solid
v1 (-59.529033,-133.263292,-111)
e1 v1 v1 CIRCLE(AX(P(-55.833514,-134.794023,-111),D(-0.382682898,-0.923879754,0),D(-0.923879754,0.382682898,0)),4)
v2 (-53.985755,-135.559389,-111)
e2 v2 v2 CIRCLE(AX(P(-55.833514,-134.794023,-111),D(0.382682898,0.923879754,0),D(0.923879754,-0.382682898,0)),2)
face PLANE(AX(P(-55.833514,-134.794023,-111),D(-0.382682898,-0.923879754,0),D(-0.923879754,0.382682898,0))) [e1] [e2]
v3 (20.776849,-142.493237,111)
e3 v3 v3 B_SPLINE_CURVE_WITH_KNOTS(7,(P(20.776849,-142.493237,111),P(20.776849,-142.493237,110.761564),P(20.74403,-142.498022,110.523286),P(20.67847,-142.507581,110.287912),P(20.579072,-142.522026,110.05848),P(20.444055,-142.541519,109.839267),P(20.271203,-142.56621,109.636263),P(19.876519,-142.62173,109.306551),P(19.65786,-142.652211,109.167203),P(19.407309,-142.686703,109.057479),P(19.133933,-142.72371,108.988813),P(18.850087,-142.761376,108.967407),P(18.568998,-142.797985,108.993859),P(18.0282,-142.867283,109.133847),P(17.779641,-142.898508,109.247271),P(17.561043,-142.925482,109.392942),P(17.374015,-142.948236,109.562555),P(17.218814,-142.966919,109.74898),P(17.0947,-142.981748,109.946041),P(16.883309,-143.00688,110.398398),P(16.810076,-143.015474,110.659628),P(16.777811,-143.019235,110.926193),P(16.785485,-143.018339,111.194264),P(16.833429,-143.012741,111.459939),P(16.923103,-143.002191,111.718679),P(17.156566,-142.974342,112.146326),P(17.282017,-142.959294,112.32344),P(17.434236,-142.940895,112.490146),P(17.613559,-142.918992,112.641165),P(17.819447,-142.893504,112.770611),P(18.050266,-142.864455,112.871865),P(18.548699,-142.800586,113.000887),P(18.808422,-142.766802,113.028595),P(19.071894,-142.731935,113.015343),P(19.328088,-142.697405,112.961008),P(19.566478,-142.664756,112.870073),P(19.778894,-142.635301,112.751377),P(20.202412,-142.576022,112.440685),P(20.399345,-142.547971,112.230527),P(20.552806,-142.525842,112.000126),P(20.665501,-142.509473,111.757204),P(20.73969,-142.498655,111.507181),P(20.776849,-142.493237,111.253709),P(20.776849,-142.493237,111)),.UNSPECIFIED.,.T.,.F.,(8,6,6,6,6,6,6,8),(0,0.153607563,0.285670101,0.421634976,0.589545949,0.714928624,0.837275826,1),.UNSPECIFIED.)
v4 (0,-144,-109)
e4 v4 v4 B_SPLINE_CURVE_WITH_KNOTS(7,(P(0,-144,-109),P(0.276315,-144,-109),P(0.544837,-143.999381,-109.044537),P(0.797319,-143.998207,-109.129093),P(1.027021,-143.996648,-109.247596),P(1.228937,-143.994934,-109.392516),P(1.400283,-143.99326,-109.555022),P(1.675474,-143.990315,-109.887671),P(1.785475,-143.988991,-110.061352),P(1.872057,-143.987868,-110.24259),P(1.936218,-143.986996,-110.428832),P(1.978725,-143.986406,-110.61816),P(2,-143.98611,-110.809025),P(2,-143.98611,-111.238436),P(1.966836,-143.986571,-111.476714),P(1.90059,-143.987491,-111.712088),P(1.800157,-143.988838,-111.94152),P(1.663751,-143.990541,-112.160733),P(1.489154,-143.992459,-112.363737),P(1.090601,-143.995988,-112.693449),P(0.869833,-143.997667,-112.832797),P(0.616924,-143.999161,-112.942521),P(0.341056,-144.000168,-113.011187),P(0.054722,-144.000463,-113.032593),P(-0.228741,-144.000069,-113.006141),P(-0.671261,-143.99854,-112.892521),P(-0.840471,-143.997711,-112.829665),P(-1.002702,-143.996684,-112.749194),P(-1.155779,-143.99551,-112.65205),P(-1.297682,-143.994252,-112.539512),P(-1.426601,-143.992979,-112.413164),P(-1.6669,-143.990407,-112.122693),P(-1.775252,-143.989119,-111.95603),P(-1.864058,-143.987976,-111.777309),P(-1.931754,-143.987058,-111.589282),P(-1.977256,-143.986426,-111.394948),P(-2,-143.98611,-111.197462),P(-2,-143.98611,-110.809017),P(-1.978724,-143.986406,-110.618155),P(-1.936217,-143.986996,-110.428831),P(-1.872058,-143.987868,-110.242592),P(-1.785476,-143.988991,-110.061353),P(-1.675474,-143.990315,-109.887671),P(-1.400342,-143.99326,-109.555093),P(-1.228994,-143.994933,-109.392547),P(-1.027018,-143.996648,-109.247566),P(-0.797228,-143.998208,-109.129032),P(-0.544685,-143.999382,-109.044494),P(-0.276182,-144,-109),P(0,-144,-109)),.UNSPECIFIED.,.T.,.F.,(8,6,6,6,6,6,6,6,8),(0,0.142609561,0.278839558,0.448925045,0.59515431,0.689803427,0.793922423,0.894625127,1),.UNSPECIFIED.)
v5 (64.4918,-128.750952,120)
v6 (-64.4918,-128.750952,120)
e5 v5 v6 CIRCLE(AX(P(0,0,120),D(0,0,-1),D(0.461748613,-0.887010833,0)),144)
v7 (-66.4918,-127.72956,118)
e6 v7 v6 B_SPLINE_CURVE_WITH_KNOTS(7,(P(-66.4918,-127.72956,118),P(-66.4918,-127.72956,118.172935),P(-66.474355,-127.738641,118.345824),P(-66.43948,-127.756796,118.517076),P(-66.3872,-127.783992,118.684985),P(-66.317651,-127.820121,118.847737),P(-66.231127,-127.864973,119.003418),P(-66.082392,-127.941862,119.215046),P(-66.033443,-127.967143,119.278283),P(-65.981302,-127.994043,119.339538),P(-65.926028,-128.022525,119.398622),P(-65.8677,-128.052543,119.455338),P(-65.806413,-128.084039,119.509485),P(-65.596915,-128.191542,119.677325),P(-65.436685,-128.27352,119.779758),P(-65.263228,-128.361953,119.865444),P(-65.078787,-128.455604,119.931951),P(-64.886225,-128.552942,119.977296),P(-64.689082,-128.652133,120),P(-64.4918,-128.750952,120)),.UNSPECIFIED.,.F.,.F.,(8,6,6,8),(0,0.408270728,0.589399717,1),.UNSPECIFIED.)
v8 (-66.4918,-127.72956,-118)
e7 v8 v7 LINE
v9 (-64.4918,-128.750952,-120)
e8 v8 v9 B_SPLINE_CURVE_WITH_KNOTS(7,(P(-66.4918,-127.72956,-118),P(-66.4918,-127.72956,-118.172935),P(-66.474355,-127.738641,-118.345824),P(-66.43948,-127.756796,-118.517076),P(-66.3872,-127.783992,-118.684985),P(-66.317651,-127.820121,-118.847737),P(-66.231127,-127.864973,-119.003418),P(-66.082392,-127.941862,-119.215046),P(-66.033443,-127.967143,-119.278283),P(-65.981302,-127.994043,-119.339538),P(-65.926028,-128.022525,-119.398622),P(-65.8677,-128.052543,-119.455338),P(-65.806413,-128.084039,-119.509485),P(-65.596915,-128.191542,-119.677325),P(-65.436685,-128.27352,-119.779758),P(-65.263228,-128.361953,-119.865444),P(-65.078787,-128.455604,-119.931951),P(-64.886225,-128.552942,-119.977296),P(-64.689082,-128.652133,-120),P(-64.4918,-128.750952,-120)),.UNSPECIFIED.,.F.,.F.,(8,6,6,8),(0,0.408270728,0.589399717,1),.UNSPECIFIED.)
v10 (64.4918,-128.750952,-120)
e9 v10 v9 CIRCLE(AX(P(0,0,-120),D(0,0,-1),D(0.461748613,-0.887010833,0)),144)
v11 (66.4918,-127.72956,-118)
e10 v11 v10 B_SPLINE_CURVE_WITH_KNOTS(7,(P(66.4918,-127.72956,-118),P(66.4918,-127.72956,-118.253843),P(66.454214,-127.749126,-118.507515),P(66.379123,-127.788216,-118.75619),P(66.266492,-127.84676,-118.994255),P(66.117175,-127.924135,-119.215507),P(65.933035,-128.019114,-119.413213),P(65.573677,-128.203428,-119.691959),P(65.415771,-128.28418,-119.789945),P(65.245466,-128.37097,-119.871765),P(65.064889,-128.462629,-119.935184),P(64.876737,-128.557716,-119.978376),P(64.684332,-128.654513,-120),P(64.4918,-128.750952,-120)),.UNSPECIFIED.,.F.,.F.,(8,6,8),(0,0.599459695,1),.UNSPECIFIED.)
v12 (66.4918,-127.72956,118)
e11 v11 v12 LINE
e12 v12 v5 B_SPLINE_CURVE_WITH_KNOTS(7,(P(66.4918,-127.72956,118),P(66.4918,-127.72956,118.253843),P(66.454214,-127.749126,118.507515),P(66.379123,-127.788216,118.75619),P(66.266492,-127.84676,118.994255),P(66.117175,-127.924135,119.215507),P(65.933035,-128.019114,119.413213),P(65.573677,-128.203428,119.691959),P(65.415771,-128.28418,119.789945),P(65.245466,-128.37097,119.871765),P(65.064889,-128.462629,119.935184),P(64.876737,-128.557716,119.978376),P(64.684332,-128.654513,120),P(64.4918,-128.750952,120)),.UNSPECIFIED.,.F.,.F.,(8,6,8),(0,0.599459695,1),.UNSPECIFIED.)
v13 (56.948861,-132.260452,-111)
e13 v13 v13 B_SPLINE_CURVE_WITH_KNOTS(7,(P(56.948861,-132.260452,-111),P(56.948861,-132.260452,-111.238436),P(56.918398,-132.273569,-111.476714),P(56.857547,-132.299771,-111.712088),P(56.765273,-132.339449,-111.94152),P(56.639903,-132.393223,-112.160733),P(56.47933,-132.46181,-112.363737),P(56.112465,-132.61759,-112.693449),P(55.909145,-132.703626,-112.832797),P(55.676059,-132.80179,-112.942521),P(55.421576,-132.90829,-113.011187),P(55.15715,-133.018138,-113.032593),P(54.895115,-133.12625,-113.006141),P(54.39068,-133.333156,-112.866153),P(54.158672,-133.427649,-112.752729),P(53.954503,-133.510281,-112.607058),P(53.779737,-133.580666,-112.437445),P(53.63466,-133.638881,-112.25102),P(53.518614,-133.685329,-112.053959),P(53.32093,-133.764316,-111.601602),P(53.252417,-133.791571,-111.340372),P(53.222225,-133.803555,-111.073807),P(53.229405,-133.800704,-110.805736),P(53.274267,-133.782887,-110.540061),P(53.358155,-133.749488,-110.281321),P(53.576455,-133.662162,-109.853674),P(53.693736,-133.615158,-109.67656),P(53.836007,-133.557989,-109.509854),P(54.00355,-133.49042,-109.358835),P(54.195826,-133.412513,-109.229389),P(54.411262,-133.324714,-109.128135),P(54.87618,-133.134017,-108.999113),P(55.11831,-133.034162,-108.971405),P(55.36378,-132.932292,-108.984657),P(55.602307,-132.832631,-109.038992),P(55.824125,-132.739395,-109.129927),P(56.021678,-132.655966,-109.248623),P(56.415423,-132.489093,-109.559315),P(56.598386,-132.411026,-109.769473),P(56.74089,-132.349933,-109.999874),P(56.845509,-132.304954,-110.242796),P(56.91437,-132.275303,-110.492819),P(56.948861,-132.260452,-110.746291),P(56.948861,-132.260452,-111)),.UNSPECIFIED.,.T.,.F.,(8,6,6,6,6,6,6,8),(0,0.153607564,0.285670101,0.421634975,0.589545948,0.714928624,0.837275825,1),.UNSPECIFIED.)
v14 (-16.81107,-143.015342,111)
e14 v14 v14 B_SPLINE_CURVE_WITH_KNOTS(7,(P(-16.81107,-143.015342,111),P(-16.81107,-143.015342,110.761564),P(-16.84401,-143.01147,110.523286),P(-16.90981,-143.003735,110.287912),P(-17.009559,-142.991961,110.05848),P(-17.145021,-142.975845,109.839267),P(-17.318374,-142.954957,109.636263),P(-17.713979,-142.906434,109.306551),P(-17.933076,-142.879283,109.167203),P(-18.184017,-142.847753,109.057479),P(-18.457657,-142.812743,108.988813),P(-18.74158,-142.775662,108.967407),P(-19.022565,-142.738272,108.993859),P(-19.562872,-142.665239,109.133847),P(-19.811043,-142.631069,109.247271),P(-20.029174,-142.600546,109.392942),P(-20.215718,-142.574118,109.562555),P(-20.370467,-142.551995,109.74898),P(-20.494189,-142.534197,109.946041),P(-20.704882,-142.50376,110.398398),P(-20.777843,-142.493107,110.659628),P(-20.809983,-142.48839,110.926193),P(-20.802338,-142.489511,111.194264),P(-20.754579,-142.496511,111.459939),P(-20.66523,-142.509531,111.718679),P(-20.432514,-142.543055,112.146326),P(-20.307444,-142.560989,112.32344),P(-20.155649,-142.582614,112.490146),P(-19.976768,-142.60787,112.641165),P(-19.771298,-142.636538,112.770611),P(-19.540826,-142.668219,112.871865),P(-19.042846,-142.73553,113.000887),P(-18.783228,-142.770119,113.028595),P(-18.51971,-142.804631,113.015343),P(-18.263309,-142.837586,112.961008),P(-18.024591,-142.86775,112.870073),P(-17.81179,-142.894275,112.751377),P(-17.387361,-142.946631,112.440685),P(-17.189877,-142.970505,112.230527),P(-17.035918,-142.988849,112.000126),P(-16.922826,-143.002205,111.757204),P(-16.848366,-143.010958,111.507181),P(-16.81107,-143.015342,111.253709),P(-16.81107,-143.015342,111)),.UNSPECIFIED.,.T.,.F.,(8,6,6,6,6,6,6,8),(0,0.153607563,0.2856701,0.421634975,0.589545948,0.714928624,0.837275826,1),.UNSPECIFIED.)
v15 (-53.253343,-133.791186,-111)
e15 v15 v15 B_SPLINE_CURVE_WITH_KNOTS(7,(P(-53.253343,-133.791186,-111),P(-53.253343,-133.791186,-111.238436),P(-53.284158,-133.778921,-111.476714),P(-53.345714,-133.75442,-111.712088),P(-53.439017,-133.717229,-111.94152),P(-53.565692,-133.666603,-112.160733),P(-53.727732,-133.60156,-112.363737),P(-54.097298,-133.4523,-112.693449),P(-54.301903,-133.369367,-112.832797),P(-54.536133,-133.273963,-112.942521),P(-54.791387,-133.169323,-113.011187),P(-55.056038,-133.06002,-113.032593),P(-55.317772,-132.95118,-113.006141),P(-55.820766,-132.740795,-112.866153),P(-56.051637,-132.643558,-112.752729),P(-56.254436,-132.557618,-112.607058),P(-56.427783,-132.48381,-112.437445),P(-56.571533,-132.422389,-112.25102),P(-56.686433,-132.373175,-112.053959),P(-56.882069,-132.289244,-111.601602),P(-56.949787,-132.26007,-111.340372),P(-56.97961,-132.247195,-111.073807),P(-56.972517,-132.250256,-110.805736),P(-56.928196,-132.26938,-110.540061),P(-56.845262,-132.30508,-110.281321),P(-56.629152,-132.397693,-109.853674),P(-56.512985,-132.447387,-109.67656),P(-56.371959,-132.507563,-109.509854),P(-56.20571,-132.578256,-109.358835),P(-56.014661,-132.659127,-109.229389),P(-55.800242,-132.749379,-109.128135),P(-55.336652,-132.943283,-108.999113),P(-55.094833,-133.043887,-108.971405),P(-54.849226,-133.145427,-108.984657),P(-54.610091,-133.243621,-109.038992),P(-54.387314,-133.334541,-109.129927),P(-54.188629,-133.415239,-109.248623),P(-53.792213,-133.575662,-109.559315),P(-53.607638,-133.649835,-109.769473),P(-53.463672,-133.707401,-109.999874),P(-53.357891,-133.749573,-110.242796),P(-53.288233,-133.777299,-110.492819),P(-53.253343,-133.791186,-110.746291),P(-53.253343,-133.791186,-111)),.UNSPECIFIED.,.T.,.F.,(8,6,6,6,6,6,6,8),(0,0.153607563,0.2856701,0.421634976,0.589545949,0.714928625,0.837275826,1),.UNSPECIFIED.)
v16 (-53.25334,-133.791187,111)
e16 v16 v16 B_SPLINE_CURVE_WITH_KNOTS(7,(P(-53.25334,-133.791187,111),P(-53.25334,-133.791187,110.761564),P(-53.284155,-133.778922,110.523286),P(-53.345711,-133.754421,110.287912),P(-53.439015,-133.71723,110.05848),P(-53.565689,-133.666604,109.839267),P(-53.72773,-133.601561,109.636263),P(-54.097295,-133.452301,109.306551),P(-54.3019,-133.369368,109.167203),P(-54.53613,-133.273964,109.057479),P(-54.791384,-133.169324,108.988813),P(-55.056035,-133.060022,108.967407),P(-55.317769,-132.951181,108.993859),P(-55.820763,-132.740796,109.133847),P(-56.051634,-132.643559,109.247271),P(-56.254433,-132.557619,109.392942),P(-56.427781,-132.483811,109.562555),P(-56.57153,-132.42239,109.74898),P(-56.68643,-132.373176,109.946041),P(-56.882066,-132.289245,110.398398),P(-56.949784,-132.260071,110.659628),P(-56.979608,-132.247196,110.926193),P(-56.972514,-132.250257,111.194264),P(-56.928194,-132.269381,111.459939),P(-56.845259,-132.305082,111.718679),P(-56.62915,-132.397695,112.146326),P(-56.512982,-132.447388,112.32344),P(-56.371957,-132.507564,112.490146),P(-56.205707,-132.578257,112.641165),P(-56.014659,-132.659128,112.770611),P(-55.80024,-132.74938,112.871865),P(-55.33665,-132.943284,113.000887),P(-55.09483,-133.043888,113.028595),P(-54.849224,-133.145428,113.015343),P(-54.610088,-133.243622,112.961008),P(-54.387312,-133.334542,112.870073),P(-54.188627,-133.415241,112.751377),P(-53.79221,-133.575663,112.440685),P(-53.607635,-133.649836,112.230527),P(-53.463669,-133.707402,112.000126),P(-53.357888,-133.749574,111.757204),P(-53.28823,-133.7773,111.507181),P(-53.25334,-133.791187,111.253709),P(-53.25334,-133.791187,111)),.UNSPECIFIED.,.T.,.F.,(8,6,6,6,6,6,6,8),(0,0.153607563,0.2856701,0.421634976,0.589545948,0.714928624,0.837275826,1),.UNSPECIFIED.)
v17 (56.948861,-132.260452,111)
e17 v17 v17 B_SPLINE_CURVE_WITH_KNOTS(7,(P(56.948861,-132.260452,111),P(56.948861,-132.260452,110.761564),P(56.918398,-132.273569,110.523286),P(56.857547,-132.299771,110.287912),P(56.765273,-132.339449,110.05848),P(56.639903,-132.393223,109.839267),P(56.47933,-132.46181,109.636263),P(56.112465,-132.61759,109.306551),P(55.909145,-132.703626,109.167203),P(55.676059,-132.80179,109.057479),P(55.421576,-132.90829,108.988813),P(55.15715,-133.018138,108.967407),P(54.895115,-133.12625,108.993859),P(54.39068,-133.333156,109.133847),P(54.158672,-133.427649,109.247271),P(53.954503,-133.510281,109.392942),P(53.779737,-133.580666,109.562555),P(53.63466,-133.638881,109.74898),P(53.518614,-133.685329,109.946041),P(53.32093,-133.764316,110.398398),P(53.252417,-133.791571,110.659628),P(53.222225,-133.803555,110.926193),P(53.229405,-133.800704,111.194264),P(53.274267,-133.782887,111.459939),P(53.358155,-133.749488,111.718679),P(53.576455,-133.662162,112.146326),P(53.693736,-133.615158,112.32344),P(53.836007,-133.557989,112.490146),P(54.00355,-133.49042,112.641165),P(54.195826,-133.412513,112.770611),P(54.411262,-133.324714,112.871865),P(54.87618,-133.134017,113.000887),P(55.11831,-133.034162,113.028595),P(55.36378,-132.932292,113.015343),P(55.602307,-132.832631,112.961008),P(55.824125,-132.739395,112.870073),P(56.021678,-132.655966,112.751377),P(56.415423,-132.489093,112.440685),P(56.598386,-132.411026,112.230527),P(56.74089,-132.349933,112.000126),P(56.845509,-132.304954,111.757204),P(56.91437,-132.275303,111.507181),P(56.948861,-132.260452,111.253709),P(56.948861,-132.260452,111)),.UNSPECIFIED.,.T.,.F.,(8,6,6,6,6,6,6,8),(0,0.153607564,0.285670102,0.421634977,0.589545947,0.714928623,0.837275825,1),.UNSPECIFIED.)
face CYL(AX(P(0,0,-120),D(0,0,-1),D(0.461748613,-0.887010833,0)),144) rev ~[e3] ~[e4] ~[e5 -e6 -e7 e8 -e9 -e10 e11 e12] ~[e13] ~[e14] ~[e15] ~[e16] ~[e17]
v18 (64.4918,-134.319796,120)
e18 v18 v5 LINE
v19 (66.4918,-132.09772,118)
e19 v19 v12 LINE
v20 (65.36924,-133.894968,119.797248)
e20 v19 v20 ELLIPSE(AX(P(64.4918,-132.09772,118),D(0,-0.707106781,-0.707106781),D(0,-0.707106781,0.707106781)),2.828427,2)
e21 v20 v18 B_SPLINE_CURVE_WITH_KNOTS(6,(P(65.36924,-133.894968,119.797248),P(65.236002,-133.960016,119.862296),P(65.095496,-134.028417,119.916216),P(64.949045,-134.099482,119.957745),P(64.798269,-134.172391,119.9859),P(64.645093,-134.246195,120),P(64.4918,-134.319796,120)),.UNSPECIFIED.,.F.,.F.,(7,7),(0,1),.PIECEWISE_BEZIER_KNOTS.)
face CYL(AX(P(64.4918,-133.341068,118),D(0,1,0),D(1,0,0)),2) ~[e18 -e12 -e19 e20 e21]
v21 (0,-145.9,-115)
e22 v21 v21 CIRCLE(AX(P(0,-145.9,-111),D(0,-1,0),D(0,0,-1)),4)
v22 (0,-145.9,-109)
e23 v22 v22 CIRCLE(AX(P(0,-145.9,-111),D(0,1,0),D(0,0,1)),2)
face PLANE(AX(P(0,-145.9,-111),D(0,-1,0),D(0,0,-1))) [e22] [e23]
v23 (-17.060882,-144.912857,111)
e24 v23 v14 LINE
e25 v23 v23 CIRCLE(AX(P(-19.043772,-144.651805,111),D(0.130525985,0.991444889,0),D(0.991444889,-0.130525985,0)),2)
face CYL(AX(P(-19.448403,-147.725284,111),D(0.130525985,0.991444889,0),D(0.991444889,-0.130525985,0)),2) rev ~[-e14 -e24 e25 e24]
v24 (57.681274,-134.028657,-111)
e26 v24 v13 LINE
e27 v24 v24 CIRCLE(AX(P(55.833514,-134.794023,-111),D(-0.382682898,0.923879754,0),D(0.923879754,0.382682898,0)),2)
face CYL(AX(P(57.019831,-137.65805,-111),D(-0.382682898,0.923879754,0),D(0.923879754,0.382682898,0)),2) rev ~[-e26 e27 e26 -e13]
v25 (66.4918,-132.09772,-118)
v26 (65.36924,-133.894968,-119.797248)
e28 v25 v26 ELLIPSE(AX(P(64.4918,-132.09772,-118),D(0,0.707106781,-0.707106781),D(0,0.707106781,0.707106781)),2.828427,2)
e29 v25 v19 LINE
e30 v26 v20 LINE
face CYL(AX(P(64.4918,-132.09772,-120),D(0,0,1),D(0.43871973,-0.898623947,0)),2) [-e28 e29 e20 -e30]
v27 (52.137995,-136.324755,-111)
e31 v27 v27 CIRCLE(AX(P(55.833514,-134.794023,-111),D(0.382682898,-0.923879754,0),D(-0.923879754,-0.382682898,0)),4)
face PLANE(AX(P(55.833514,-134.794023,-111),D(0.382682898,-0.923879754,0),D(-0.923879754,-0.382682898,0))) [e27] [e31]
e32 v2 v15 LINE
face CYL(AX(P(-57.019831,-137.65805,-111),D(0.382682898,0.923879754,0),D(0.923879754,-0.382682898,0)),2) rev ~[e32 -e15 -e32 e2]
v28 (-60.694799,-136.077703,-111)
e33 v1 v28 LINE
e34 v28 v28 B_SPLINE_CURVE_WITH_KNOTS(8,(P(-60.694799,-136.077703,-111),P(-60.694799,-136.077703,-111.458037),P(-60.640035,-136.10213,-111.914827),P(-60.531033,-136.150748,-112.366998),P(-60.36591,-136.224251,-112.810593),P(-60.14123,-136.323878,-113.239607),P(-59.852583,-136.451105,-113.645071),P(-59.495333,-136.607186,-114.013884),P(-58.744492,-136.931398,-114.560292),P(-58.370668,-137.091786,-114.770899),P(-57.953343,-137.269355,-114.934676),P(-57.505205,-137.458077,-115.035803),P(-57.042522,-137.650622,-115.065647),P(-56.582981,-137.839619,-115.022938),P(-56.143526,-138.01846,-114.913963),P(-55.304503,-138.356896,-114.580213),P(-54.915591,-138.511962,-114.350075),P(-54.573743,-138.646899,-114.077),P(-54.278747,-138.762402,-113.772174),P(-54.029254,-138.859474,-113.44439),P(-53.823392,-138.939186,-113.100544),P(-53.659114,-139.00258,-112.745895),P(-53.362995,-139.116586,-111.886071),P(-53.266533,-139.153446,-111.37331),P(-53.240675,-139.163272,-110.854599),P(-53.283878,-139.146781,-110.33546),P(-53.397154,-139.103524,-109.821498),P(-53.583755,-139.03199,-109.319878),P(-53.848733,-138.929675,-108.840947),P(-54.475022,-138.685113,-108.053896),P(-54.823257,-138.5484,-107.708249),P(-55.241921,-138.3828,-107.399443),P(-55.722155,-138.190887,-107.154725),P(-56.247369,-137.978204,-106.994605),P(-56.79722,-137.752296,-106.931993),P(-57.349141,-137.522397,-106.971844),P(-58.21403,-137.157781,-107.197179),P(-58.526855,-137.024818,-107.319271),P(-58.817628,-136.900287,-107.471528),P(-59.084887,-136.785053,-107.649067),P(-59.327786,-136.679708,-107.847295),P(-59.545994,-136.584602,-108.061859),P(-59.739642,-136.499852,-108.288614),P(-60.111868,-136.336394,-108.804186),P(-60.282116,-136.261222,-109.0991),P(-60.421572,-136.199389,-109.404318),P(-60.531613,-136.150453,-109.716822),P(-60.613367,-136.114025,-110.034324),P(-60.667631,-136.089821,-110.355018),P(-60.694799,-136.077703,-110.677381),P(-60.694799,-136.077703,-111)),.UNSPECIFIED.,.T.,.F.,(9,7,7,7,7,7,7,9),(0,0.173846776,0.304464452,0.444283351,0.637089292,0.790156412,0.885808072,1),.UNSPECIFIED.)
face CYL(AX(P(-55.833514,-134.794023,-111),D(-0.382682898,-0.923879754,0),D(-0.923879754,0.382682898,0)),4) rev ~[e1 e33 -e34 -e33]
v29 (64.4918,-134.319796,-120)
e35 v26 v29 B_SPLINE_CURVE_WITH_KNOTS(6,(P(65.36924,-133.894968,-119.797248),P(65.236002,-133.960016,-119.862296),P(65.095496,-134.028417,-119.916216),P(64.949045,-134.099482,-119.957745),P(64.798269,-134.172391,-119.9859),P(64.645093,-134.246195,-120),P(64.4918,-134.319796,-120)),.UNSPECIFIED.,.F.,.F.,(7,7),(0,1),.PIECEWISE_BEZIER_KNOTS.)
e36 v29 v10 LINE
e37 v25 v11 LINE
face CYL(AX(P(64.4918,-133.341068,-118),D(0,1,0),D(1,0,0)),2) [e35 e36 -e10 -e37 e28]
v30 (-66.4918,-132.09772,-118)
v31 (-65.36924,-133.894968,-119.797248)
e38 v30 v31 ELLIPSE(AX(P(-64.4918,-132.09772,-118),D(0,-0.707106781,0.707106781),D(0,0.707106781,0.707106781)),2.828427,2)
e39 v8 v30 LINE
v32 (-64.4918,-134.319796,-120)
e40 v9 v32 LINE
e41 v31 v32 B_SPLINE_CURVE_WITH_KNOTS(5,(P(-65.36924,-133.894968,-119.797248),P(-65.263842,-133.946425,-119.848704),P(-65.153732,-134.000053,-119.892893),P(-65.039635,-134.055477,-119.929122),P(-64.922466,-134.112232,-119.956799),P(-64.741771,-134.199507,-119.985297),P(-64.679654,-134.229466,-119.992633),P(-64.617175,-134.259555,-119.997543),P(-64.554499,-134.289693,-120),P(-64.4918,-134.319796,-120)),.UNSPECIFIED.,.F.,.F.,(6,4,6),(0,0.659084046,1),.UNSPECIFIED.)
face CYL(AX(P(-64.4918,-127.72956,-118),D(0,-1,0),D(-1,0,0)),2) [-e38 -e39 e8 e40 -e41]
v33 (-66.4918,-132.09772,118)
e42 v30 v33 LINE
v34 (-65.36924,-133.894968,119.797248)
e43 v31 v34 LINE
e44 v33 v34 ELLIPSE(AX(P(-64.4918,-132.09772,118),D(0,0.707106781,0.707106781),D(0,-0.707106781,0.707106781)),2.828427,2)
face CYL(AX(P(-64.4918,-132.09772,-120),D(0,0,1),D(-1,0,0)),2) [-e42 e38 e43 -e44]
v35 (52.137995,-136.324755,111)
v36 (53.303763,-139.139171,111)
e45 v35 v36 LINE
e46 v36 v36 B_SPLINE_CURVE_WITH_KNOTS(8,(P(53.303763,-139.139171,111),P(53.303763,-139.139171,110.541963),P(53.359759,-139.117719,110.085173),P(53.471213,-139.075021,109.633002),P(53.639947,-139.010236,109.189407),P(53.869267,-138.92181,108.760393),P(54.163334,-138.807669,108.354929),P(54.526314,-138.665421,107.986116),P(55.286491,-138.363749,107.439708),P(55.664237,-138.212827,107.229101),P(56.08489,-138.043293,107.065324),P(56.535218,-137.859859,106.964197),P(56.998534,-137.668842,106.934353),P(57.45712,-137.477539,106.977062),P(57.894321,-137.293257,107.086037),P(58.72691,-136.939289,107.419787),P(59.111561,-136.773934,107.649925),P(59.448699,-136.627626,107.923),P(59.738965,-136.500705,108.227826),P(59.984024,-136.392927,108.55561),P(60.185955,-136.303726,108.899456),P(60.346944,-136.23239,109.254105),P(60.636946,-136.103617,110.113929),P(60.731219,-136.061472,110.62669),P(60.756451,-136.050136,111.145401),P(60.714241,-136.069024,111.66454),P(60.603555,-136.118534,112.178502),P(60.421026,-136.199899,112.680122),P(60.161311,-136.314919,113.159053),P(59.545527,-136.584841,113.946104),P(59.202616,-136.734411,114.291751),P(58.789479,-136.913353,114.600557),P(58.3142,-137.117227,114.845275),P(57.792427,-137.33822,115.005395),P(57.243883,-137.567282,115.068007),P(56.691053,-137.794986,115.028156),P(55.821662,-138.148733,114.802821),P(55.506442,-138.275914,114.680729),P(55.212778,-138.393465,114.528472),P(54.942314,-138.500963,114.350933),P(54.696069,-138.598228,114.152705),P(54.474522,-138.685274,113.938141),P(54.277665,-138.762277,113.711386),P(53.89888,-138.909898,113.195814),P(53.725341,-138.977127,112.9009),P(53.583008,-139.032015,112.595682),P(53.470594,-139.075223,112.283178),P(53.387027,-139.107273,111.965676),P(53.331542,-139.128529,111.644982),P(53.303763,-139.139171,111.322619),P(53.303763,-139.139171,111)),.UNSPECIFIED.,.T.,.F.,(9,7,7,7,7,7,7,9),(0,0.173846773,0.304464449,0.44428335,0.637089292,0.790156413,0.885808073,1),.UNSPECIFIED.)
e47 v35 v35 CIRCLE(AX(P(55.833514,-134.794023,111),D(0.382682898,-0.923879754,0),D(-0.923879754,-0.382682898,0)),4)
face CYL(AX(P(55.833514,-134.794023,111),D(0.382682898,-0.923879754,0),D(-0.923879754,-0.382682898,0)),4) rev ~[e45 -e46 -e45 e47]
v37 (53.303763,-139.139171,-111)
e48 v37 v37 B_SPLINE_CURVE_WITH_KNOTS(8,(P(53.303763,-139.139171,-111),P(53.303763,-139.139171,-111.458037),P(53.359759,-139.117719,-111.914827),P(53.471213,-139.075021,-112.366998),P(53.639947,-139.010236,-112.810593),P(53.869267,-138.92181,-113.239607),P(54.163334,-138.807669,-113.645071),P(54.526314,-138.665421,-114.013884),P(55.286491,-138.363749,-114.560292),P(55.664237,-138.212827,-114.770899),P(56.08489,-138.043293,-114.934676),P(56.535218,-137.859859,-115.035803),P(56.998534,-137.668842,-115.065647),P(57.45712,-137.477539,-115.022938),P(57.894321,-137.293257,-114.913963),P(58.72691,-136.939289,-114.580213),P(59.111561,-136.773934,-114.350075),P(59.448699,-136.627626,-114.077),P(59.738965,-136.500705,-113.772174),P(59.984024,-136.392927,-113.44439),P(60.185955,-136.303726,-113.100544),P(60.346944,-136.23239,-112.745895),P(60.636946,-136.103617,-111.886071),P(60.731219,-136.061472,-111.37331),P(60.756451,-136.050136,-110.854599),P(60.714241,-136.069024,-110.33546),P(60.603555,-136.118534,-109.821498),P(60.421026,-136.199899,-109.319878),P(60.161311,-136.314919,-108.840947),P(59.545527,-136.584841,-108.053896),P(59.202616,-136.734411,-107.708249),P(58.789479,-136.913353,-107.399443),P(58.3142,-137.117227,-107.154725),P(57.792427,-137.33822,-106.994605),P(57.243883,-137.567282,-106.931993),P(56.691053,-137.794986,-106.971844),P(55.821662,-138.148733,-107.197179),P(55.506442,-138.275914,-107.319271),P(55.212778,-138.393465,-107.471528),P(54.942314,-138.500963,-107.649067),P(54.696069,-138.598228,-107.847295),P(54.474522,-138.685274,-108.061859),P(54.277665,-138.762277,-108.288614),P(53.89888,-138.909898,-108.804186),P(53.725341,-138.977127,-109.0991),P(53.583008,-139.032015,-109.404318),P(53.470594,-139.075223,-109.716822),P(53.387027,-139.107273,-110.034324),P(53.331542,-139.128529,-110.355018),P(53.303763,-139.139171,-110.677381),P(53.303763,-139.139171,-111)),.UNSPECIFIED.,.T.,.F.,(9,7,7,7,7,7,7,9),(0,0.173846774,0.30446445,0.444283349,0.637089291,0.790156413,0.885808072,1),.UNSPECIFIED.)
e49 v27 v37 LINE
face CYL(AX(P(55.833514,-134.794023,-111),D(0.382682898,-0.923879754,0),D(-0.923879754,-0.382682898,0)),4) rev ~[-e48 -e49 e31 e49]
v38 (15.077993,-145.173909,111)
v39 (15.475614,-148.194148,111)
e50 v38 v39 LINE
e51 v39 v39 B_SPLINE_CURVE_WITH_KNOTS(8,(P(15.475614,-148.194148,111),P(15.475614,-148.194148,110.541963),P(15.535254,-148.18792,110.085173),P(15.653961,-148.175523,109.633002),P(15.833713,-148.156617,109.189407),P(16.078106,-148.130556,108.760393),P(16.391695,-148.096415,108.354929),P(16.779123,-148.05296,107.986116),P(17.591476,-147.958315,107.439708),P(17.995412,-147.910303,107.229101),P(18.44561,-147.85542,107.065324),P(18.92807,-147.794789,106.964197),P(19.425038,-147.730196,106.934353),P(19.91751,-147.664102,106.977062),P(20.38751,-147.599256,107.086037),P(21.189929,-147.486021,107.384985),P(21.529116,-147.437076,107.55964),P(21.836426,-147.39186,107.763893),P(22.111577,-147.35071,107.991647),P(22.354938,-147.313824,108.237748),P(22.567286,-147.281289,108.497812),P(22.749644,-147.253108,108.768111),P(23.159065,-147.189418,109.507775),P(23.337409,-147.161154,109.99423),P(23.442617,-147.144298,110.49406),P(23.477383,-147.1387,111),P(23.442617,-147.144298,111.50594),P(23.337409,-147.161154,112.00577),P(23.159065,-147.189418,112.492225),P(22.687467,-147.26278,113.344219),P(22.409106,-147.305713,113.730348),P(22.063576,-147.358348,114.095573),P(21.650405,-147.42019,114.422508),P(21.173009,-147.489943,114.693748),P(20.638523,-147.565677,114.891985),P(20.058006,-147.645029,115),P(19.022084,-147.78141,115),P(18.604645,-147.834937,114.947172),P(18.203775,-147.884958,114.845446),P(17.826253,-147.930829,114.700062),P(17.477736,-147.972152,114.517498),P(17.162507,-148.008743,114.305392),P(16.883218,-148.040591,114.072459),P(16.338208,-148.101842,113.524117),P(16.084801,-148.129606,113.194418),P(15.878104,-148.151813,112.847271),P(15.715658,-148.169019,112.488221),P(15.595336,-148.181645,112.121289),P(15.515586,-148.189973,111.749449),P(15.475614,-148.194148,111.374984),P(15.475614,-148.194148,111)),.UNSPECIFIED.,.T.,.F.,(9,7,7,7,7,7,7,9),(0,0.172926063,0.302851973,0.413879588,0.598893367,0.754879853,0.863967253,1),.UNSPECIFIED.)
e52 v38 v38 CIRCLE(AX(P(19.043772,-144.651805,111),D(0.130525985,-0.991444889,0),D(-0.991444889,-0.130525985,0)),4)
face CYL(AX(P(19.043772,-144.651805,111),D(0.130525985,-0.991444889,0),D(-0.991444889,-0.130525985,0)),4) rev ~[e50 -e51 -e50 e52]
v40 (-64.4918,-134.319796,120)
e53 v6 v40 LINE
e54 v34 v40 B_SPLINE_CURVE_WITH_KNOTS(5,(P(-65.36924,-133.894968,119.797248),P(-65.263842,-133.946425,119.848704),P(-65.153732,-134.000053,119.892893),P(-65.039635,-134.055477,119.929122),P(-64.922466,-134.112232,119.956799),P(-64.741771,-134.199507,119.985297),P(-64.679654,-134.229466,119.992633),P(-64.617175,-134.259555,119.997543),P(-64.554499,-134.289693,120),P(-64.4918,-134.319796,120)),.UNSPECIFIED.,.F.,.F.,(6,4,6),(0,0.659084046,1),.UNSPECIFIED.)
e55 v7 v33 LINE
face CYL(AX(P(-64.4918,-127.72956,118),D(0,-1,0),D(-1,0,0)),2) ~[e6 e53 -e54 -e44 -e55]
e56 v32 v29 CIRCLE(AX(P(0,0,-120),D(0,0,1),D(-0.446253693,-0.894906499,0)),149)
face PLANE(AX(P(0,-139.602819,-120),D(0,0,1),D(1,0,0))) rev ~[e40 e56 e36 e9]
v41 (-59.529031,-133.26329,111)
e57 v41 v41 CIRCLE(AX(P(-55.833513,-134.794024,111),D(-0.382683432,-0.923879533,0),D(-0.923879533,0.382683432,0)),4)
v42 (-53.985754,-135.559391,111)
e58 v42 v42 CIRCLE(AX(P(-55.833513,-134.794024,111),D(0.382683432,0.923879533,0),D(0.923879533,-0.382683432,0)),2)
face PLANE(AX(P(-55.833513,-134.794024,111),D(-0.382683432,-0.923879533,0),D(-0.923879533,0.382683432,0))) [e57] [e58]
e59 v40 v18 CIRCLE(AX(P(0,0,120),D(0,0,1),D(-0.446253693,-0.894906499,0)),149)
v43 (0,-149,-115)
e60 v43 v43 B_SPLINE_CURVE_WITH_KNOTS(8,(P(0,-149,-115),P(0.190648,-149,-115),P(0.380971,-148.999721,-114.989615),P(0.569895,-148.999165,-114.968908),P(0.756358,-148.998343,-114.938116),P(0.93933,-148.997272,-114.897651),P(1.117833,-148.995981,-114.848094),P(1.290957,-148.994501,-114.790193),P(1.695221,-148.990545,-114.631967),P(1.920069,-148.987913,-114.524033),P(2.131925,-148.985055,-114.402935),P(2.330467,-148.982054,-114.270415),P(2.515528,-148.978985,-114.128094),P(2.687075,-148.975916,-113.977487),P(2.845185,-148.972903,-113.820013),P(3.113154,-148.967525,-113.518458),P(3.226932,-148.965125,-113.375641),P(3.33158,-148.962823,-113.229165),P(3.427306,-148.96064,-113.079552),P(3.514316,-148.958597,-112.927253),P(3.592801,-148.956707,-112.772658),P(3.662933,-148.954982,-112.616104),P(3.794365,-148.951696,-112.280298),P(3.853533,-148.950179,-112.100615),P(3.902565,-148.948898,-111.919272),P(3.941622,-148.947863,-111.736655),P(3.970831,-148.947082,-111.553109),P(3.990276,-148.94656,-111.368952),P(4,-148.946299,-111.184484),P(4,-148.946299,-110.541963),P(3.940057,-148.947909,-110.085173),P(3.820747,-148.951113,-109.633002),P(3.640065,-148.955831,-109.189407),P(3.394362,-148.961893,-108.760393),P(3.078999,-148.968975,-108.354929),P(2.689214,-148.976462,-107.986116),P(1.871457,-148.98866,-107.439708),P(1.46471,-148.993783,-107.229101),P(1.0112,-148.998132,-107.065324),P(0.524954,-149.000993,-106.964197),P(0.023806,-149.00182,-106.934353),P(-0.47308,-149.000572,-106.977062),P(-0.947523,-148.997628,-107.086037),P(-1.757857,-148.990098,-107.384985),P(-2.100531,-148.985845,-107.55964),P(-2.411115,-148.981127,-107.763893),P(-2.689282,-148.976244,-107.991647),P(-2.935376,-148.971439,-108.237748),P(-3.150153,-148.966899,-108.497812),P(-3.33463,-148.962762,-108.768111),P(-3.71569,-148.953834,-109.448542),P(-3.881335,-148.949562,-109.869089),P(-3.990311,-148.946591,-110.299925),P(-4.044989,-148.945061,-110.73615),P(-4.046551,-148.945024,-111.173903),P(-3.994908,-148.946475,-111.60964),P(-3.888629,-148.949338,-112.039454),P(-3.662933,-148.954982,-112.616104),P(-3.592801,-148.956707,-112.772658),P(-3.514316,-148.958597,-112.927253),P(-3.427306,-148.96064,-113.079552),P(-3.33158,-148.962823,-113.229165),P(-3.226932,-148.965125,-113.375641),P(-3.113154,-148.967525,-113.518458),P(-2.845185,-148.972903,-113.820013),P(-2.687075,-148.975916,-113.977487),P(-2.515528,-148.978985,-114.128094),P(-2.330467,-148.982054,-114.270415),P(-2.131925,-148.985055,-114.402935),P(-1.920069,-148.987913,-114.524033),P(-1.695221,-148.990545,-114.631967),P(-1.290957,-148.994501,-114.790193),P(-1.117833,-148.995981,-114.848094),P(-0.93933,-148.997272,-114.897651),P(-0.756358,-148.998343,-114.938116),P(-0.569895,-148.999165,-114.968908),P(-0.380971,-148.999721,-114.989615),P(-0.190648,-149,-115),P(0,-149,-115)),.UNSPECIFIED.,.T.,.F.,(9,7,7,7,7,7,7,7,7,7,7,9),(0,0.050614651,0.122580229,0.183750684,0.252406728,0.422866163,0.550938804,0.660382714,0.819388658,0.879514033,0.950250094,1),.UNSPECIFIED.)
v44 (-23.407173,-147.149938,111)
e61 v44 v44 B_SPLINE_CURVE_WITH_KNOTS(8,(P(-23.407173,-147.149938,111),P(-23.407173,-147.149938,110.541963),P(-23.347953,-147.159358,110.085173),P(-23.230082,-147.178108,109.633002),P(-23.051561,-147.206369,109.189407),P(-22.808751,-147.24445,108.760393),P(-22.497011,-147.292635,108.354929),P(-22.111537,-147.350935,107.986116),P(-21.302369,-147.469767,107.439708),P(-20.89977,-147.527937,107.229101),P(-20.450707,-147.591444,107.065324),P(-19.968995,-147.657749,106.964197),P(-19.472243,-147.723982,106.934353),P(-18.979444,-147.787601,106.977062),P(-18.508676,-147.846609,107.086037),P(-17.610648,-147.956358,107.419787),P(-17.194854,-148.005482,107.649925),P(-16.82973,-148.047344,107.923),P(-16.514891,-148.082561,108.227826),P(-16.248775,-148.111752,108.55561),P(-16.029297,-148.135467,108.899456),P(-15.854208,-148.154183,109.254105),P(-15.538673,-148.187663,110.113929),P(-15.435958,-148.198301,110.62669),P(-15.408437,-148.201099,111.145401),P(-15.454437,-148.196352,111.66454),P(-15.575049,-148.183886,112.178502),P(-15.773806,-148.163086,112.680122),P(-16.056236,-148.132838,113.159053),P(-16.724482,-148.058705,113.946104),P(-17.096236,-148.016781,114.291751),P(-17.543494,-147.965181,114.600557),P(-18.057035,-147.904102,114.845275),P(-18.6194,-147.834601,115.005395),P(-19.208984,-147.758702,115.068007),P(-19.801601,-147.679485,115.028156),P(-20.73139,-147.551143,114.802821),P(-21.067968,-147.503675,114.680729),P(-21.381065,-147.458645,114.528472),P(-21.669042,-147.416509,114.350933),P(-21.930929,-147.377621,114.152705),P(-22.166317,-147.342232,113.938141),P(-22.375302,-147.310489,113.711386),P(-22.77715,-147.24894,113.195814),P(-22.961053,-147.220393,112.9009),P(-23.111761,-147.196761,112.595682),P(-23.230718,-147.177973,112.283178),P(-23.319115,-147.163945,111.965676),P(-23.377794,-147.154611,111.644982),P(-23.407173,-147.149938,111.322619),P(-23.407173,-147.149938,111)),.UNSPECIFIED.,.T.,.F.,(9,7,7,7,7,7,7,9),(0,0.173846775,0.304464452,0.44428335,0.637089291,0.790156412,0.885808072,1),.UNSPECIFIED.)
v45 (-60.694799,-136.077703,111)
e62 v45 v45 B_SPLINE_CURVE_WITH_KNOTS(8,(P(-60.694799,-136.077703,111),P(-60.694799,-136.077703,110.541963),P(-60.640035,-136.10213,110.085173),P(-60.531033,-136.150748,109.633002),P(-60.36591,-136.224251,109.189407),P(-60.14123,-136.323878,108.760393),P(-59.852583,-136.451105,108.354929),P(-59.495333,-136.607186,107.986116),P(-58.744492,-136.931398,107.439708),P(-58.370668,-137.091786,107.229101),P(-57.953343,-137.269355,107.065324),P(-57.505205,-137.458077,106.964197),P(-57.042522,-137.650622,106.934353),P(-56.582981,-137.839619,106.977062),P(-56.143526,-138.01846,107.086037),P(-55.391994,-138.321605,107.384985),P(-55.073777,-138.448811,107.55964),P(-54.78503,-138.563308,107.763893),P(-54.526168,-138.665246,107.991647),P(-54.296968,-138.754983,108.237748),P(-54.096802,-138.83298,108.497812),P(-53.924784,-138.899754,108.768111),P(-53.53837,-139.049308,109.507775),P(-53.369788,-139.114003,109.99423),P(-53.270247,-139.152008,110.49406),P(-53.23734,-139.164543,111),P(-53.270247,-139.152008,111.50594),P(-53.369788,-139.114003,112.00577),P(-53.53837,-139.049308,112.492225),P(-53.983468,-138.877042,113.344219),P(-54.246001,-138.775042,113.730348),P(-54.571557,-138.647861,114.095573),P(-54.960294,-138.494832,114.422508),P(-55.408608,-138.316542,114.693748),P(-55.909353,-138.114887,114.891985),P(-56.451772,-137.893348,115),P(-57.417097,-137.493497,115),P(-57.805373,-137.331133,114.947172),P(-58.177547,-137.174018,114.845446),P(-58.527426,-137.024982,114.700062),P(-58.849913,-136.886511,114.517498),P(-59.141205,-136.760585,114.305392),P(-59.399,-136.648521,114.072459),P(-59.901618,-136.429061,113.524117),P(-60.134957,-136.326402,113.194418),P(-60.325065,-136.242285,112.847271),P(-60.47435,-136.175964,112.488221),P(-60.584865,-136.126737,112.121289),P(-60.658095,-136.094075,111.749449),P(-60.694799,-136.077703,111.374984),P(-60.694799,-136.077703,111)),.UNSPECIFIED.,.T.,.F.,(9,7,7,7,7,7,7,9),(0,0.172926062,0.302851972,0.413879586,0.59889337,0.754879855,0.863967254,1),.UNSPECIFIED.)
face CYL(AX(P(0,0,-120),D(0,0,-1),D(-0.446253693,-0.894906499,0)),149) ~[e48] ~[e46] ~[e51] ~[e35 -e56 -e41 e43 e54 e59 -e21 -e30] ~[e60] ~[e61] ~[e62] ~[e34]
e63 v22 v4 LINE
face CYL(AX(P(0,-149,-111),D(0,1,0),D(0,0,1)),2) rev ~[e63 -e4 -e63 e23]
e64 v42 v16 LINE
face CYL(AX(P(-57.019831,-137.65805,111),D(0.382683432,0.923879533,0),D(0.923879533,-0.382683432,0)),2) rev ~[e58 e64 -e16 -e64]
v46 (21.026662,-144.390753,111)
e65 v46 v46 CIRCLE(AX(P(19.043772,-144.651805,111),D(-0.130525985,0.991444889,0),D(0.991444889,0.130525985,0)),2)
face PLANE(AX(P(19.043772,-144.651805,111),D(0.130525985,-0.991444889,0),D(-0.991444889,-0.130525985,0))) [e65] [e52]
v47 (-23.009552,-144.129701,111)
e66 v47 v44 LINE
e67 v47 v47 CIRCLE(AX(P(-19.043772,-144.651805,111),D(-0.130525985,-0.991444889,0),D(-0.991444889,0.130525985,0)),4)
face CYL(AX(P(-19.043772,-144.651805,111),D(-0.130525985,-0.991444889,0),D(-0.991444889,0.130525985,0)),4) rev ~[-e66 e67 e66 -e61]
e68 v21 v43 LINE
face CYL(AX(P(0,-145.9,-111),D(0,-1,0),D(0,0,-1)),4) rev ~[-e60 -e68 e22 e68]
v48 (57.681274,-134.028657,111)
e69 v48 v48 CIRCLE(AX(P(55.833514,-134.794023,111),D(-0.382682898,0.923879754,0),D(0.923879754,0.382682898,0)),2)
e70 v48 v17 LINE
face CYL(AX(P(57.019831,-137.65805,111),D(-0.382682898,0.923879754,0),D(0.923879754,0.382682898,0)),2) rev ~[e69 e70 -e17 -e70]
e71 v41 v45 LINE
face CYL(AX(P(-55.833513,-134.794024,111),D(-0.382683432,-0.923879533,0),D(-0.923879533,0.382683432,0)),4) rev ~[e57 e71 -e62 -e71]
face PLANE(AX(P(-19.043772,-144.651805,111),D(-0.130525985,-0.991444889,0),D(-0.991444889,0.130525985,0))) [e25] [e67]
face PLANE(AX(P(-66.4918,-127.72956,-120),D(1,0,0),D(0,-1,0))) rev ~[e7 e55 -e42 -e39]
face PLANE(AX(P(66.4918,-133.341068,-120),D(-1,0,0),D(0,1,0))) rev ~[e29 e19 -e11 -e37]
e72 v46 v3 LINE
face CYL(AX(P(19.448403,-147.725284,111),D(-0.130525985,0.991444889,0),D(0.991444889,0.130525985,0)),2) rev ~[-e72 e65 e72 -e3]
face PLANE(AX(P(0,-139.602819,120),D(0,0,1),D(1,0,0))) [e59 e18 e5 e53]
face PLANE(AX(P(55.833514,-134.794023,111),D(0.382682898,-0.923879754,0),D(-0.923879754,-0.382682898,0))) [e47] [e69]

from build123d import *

# Parameters (mm, degrees)
BOSS_EXTRUDE1_DEPTH         = 120
BOSS_EXTRUDE1_DEPTH_BACK    = 120
FILLET1_R                   = 2
HOLE1_D                     = 4
HOLE1_CBORE_D               = 8
HOLE1_CBORE_DEPTH           = 3.1
HOLE1_ON_FACE_2_D           = 4
HOLE1_ON_FACE_2_CBORE_D     = 8
HOLE1_ON_FACE_2_CBORE_DEPTH = 3.1
HOLE1_ON_FACE_3_D           = 4
HOLE1_ON_FACE_3_CBORE_D     = 8
HOLE1_ON_FACE_3_CBORE_DEPTH = 3.1
HOLE1_ON_FACE_4_D           = 4
HOLE1_ON_FACE_4_CBORE_D     = 8
HOLE1_ON_FACE_4_CBORE_DEPTH = 3.1
HOLE1_ON_FACE_5_D           = 4
HOLE1_ON_FACE_5_CBORE_D     = 8
HOLE1_ON_FACE_5_CBORE_DEPTH = 3.1
HOLE1_ON_FACE_6_D           = 4
HOLE1_ON_FACE_6_CBORE_D     = 8
HOLE1_ON_FACE_6_CBORE_DEPTH = 3.1


with BuildPart() as part:
    # Sketch1 → Boss-Extrude1 (new, two sides: drawn at the far end of the back side and taken through both)
    with BuildSketch(Plane.XY.offset(-BOSS_EXTRUDE1_DEPTH_BACK)):
        with BuildLine():
            Line((-66.491800306, -127.729559978), (-66.491800306, -133.341068288))
            ThreePointArc((-66.491800306, -133.341068288), (0, -149), (66.491800306, -133.341068288))
            Line((66.491800306, -133.341068288), (66.491800306, -127.729559978))
            ThreePointArc((66.491800306, -127.729559978), (0, -144), (-66.491800306, -127.729559978))
        make_face()
    extrude(amount=BOSS_EXTRUDE1_DEPTH + BOSS_EXTRUDE1_DEPTH_BACK)

    # Fillet1
    fillet1_edges = [part.edges().sort_by_distance(p)[0] for p in [
        (-66.491800306, -130.535314133, 120),
        (66.491800306, -130.535314133, -120),
        (66.491800306, -130.535314133, 120),
        (-66.491800306, -130.535314133, -120),
        (66.491800306, -133.341068288, 0),
        (-66.491800306, -133.341068288, 0),
    ]]
    fillet(fillet1_edges, radius=FILLET1_R)

    # Hole1 (through all)
    with Locations(Plane(origin=(-57.019831422, -137.658050344, 111), x_dir=(-0.923879532511, 0.382683432365, 0), z_dir=(-0.382683432365, -0.923879532511, 0))):
        with Locations((0, 0)):
            CounterBoreHole(HOLE1_D / 2, HOLE1_CBORE_D / 2, HOLE1_CBORE_DEPTH)

    # Hole1 on face 2 (through all)
    with Locations(Plane(origin=(-19.448402641, -147.725284345, 111), x_dir=(-0.991444888611, 0.130525985335, 0), z_dir=(-0.130525985335, -0.991444888611, 0))):
        with Locations((0, 0)):
            CounterBoreHole(HOLE1_ON_FACE_2_D / 2, HOLE1_ON_FACE_2_CBORE_D / 2, HOLE1_ON_FACE_2_CBORE_DEPTH)

    # Hole1 on face 3 (through all)
    with Locations(Plane(origin=(19.448402641, -147.725284345, 111), x_dir=(-0.991444888611, -0.130525985335, 0), z_dir=(0.130525985335, -0.991444888611, 0))):
        with Locations((0, 0)):
            CounterBoreHole(HOLE1_ON_FACE_3_D / 2, HOLE1_ON_FACE_3_CBORE_D / 2, HOLE1_ON_FACE_3_CBORE_DEPTH)

    # Hole1 on face 4 (through all)
    with Locations(Plane(origin=(-57.019831422, -137.658050344, -111), x_dir=(-0.923879753837, 0.382682898036, 0), z_dir=(-0.382682898036, -0.923879753837, 0))):
        with Locations((0, 0)):
            CounterBoreHole(HOLE1_ON_FACE_4_D / 2, HOLE1_ON_FACE_4_CBORE_D / 2, HOLE1_ON_FACE_4_CBORE_DEPTH)

    # Hole1 on face 5 (through all)
    with Locations(Plane(origin=(0, -149, -111), x_dir=(0, 0, -1), z_dir=(0, -1, 0))):
        with Locations((0, 0)):
            CounterBoreHole(HOLE1_ON_FACE_5_D / 2, HOLE1_ON_FACE_5_CBORE_D / 2, HOLE1_ON_FACE_5_CBORE_DEPTH)

    # Hole1 on face 6 (through all)
    with Locations(Plane(origin=(57.019831422, -137.658050344, -111), x_dir=(-0.923879753837, -0.382682898036, 0), z_dir=(0.382682898036, -0.923879753837, 0))):
        with Locations((0, 0), (0, -222)):
            CounterBoreHole(HOLE1_ON_FACE_6_D / 2, HOLE1_ON_FACE_6_CBORE_D / 2, HOLE1_ON_FACE_6_CBORE_DEPTH)


solid = part.part
